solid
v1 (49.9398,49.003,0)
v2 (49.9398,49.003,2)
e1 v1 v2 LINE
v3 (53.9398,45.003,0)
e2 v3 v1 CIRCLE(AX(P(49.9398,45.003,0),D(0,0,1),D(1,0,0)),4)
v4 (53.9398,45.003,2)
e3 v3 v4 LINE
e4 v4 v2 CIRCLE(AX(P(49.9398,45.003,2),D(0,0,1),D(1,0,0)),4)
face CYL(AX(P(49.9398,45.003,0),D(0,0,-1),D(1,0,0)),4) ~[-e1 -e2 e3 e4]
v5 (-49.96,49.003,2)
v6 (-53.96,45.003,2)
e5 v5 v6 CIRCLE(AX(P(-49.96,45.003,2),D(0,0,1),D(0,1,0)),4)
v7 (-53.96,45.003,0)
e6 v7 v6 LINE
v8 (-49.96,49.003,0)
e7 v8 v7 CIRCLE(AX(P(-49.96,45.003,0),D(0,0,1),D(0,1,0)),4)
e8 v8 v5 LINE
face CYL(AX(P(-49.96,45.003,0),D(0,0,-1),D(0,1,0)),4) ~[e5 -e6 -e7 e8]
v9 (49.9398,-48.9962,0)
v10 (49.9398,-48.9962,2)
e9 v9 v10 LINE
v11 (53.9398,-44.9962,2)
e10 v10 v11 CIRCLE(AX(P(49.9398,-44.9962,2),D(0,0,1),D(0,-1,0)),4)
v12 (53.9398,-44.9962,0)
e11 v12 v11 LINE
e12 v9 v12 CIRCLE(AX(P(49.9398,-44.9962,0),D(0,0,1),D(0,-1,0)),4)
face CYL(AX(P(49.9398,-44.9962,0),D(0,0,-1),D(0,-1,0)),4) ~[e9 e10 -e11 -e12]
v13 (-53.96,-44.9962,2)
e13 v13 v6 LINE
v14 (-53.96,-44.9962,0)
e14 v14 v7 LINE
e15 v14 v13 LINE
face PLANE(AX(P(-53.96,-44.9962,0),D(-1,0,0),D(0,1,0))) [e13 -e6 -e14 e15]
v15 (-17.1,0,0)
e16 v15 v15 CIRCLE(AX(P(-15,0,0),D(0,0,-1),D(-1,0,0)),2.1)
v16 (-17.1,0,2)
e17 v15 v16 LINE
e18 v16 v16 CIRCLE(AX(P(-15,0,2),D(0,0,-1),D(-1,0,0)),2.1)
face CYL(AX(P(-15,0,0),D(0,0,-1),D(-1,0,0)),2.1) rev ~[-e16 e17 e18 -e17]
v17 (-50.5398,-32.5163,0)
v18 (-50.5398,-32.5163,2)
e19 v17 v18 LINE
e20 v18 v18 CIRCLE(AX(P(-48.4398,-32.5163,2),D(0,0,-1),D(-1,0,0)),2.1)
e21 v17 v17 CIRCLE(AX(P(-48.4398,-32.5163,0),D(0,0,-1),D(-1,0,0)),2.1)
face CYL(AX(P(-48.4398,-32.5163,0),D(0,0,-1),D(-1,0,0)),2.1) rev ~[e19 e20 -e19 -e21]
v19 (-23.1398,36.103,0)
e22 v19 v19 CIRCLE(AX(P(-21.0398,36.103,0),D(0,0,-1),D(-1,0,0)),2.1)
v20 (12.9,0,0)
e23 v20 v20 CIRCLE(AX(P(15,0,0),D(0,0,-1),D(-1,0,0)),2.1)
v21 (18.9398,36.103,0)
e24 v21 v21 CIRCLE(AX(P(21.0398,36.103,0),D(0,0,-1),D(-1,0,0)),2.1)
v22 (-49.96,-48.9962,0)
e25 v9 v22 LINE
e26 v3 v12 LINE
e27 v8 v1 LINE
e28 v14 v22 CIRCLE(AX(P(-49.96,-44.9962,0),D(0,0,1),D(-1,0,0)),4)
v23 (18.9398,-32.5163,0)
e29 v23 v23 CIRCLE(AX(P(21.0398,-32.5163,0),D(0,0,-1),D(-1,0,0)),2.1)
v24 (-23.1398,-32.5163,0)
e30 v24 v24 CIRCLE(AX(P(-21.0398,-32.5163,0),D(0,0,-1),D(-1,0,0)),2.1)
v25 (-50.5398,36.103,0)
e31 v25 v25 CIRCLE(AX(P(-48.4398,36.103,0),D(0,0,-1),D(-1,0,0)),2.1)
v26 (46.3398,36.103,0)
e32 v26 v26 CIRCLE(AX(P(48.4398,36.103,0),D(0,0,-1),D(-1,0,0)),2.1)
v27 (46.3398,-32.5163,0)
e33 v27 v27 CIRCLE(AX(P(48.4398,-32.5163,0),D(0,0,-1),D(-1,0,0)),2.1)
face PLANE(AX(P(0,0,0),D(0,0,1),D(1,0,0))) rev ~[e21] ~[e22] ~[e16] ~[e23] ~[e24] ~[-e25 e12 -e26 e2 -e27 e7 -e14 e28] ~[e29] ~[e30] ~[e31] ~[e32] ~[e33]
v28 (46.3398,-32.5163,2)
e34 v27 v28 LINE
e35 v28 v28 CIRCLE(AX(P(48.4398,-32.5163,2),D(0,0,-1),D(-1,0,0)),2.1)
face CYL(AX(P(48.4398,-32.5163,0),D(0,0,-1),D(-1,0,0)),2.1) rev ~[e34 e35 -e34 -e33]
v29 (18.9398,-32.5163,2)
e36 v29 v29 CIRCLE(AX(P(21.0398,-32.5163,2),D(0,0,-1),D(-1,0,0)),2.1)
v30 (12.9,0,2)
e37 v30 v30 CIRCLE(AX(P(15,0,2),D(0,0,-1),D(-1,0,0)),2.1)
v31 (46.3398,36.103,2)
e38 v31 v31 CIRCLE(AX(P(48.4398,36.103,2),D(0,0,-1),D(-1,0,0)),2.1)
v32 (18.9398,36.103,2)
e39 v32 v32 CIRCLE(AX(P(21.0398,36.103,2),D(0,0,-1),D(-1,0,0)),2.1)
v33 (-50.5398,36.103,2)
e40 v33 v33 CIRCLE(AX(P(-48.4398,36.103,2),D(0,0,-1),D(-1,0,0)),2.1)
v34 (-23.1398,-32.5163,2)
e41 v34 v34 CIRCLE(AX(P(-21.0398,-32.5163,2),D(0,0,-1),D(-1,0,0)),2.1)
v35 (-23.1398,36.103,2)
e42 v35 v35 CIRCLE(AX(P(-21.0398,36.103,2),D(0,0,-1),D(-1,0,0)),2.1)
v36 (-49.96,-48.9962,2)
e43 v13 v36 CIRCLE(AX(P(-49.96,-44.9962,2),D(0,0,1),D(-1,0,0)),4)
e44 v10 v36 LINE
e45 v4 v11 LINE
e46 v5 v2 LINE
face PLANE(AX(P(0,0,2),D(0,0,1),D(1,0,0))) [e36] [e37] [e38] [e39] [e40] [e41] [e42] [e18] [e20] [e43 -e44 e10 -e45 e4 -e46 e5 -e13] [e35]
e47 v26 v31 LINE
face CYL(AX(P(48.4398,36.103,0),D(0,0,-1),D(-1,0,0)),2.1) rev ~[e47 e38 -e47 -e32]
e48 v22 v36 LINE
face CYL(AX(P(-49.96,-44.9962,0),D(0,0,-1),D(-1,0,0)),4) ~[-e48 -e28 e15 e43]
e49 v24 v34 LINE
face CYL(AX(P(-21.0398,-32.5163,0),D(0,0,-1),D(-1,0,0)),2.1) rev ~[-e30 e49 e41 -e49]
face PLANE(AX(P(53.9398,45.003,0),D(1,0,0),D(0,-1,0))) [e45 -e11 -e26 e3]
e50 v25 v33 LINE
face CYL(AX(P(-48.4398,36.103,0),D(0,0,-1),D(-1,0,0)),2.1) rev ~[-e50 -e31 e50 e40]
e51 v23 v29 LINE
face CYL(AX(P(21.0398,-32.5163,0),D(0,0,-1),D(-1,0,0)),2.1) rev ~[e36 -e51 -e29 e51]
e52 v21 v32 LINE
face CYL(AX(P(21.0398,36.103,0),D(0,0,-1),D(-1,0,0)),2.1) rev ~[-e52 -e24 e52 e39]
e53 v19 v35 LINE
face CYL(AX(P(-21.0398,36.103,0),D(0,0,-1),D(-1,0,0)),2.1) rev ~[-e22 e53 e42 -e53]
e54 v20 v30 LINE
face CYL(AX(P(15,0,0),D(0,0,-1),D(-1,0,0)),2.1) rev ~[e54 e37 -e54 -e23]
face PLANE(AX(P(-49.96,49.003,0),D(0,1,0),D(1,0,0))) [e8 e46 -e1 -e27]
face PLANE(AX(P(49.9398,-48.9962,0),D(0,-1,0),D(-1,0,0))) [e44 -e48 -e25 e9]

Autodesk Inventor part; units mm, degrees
ref_plane "YZ Plane" through (0, 0, 0) normal (1, 0, 0) x (0, 1, 0)
ref_plane "XZ Plane" through (0, 0, 0) normal (0, 1, 0) x (-1, 0, 0)
ref_plane "XY Plane" through (0, 0, 0) normal (0, 0, 1) x (1, 0, 0)
sketch "Sketch1" plane through (0, 0, 0) normal (0, 0, 1) x (1, 0, 0)
  line L0 (0, 69.8302) -> (0, -69.8234) construction
  line L1 (-76.7674, 0) -> (76.7472, 0) construction
  line L2 (-17.1109, 0.0005) -> (-17.1001, 0.2151)
  line L3 (-17.1001, 0.2151) -> (-17.0684, 0.4237)
  line L4 (-17.0684, 0.4237) -> (-17.0166, 0.6249)
  line L5 (-17.0166, 0.6249) -> (-16.9459, 0.8178)
  line L6 (-16.9459, 0.8178) -> (-16.8576, 1.0014)
  line L7 (-16.8576, 1.0014) -> (-16.7523, 1.1745)
  line L8 (-16.7523, 1.1745) -> (-16.6314, 1.3361)
  line L9 (-16.6314, 1.3361) -> (-16.496, 1.4853)
  line L10 (-16.496, 1.4853) -> (-16.3468, 1.6209)
  line L11 (-16.3468, 1.6209) -> (-16.1851, 1.7418)
  line L12 (-16.1851, 1.7418) -> (-16.012, 1.8469)
  line L13 (-16.012, 1.8469) -> (-15.8285, 1.9354)
  line L14 (-15.8285, 1.9354) -> (-15.6354, 2.006)
  line L15 (-15.6354, 2.006) -> (-15.4342, 2.0577)
  line L16 (-15.4342, 2.0577) -> (-15.2258, 2.0896)
  line L17 (-15.2258, 2.0896) -> (-15.011, 2.1004)
  line L18 (-15.011, 2.1004) -> (-14.7964, 2.0896)
  line L19 (-14.7964, 2.0896) -> (-14.5878, 2.0577)
  line L20 (-14.5878, 2.0577) -> (-14.3866, 2.006)
  line L21 (-14.3866, 2.006) -> (-14.1936, 1.9354)
  line L22 (-14.1936, 1.9354) -> (-14.01, 1.8469)
  line L23 (-14.01, 1.8469) -> (-13.8369, 1.7418)
  line L24 (-13.8369, 1.7418) -> (-13.6752, 1.6209)
  line L25 (-13.6752, 1.6209) -> (-13.5262, 1.4853)
  line L26 (-13.5262, 1.4853) -> (-13.3906, 1.3361)
  line L27 (-13.3906, 1.3361) -> (-13.2697, 1.1745)
  line L28 (-13.2697, 1.1745) -> (-13.1644, 1.0014)
  line L29 (-13.1644, 1.0014) -> (-13.0761, 0.8178)
  line L30 (-13.0761, 0.8178) -> (-13.0054, 0.6249)
  line L31 (-13.0054, 0.6249) -> (-12.9537, 0.4237)
  line L32 (-12.9537, 0.4237) -> (-12.9219, 0.2151)
  line L33 (-12.9219, 0.2151) -> (-12.911, 0.0005)
  line L34 (-12.911, 0.0005) -> (-12.9219, -0.2143)
  line L35 (-12.9219, -0.2143) -> (-12.9537, -0.4228)
  line L36 (-12.9537, -0.4228) -> (-13.0054, -0.624)
  line L37 (-13.0054, -0.624) -> (-13.0761, -0.8169)
  line L38 (-13.0761, -0.8169) -> (-13.1644, -1.0005)
  line L39 (-13.1644, -1.0005) -> (-13.2697, -1.1738)
  line L40 (-13.2697, -1.1738) -> (-13.3906, -1.3354)
  line L41 (-13.3906, -1.3354) -> (-13.5262, -1.4846)
  line L42 (-13.5262, -1.4846) -> (-13.6752, -1.6199)
  line L43 (-13.6752, -1.6199) -> (-13.8369, -1.7409)
  line L44 (-13.8369, -1.7409) -> (-14.01, -1.8463)
  line L45 (-14.01, -1.8463) -> (-14.1936, -1.9345)
  line L46 (-14.1936, -1.9345) -> (-14.3866, -2.0051)
  line L47 (-14.3866, -2.0051) -> (-14.5878, -2.0568)
  line L48 (-14.5878, -2.0568) -> (-14.7964, -2.0888)
  line L49 (-14.7964, -2.0888) -> (-15.011, -2.0995)
  line L50 (-15.011, -2.0995) -> (-15.2258, -2.0888)
  line L51 (-15.2258, -2.0888) -> (-15.4342, -2.0568)
  line L52 (-15.4342, -2.0568) -> (-15.6354, -2.0051)
  line L53 (-15.6354, -2.0051) -> (-15.8285, -1.9345)
  line L54 (-15.8285, -1.9345) -> (-16.012, -1.8463)
  line L55 (-16.012, -1.8463) -> (-16.1851, -1.7409)
  line L56 (-16.1851, -1.7409) -> (-16.3468, -1.6199)
  line L57 (-16.3468, -1.6199) -> (-16.496, -1.4846)
  line L58 (-16.496, -1.4846) -> (-16.6314, -1.3354)
  line L59 (-16.6314, -1.3354) -> (-16.7523, -1.1738)
  line L60 (-16.7523, -1.1738) -> (-16.8576, -1.0005)
  line L61 (-16.8576, -1.0005) -> (-16.9459, -0.8169)
  line L62 (-16.9459, -0.8169) -> (-17.0166, -0.624)
  line L63 (-17.0166, -0.624) -> (-17.0684, -0.4228)
  line L64 (-17.0684, -0.4228) -> (-17.1001, -0.2143)
  line L65 (-17.1001, -0.2143) -> (-17.1109, 0.0005)
  spline S0 degree 3 poles (-53.96, -44.9961) (-53.96, -47.2051) (-52.1691, -48.9962) (-49.9599, -48.9962) knots 0 0 0 0 1 1 1 1
  line L66 (-53.96, -44.9961) -> (-53.96, -47.2051) construction
  line L67 (-53.96, -47.2051) -> (-52.1691, -48.9962) construction
  line L68 (-52.1691, -48.9962) -> (-49.9599, -48.9962) construction
  line L69 (-49.9599, -48.9962) -> (49.9401, -48.9962)
  spline S1 degree 3 poles (49.9401, -48.9962) (52.1491, -48.9962) (53.9398, -47.2051) (53.9398, -44.9961) knots 2 2 2 2 3 3 3 3
  line L70 (49.9401, -48.9962) -> (52.1491, -48.9962) construction
  line L71 (52.1491, -48.9962) -> (53.9398, -47.2051) construction
  line L72 (53.9398, -47.2051) -> (53.9398, -44.9961) construction
  line L73 (53.9398, -44.9961) -> (53.9398, 45.0029)
  spline S2 degree 3 poles (53.9398, 45.0029) (53.9398, 47.212) (52.1491, 49.003) (49.9401, 49.003) knots 4 4 4 4 5 5 5 5
  line L74 (53.9398, 45.0029) -> (53.9398, 47.212) construction
  line L75 (53.9398, 47.212) -> (52.1491, 49.003) construction
  line L76 (52.1491, 49.003) -> (49.9401, 49.003) construction
  line L77 (49.9401, 49.003) -> (-49.9599, 49.003)
  spline S3 degree 3 poles (-49.9599, 49.003) (-52.1691, 49.003) (-53.96, 47.212) (-53.96, 45.0029) knots 6 6 6 6 7 7 7 7
  line L78 (-49.9599, 49.003) -> (-52.1691, 49.003) construction
  line L79 (-52.1691, 49.003) -> (-53.96, 47.212) construction
  line L80 (-53.96, 47.212) -> (-53.96, 45.0029) construction
  line L81 (-53.96, 45.0029) -> (-53.96, -44.9961)
  line L82 (39.7398, -16.7966) -> (39.7516, -16.5665)
  line L83 (39.7516, -16.5665) -> (39.7857, -16.3432)
  line L84 (39.7857, -16.3432) -> (39.8411, -16.1276)
  line L85 (39.8411, -16.1276) -> (39.9169, -15.9209)
  line L86 (39.9169, -15.9209) -> (40.0117, -15.7242)
  line L87 (40.0117, -15.7242) -> (40.1243, -15.5385)
  line L88 (40.1243, -15.5385) -> (40.2539, -15.3655)
  line L89 (40.2539, -15.3655) -> (40.3989, -15.2057)
  line L90 (40.3989, -15.2057) -> (40.5587, -15.0603)
  line L91 (40.5587, -15.0603) -> (40.732, -14.9308)
  line L92 (40.732, -14.9308) -> (40.9174, -14.8181)
  line L93 (40.9174, -14.8181) -> (41.1141, -14.7234)
  line L94 (41.1141, -14.7234) -> (41.3208, -14.6479)
  line L95 (41.3208, -14.6479) -> (41.5365, -14.5925)
  line L96 (41.5365, -14.5925) -> (41.7601, -14.5583)
  line L97 (41.7601, -14.5583) -> (41.9898, -14.5466)
  line L98 (41.9898, -14.5466) -> (42.22, -14.5583)
  line L99 (42.22, -14.5583) -> (42.4436, -14.5925)
  line L100 (42.4436, -14.5925) -> (42.6592, -14.6479)
  line L101 (42.6592, -14.6479) -> (42.8659, -14.7234)
  line L102 (42.8659, -14.7234) -> (43.0626, -14.8181)
  line L103 (43.0626, -14.8181) -> (43.248, -14.9308)
  line L104 (43.248, -14.9308) -> (43.4213, -15.0603)
  line L105 (43.4213, -15.0603) -> (43.5811, -15.2057)
  line L106 (43.5811, -15.2057) -> (43.7262, -15.3655)
  line L107 (43.7262, -15.3655) -> (43.8557, -15.5385)
  line L108 (43.8557, -15.5385) -> (43.9684, -15.7242)
  line L109 (43.9684, -15.7242) -> (44.0631, -15.9209)
  line L110 (44.0631, -15.9209) -> (44.1389, -16.1276)
  line L111 (44.1389, -16.1276) -> (44.1944, -16.3432)
  line L112 (44.1944, -16.3432) -> (44.2285, -16.5665)
  line L113 (44.2285, -16.5665) -> (44.2398, -16.7966)
  line L114 (44.2398, -16.7966) -> (44.2285, -17.0268)
  line L115 (44.2285, -17.0268) -> (44.1944, -17.25)
  line L116 (44.1944, -17.25) -> (44.1389, -17.4657)
  line L117 (44.1389, -17.4657) -> (44.0631, -17.6724)
  line L118 (44.0631, -17.6724) -> (43.9684, -17.8691)
  line L119 (43.9684, -17.8691) -> (43.8557, -18.0548)
  line L120 (43.8557, -18.0548) -> (43.7262, -18.2277)
  line L121 (43.7262, -18.2277) -> (43.5811, -18.3876)
  line L122 (43.5811, -18.3876) -> (43.4213, -18.533)
  line L123 (43.4213, -18.533) -> (43.248, -18.6625)
  line L124 (43.248, -18.6625) -> (43.0626, -18.7751)
  line L125 (43.0626, -18.7751) -> (42.8659, -18.8699)
  line L126 (42.8659, -18.8699) -> (42.6592, -18.9453)
  line L127 (42.6592, -18.9453) -> (42.4436, -19.0008)
  line L128 (42.4436, -19.0008) -> (42.22, -19.0349)
  line L129 (42.22, -19.0349) -> (41.9898, -19.0466)
  line L130 (41.9898, -19.0466) -> (41.7601, -19.0349)
  line L131 (41.7601, -19.0349) -> (41.5365, -19.0008)
  line L132 (41.5365, -19.0008) -> (41.3208, -18.9453)
  line L133 (41.3208, -18.9453) -> (41.1141, -18.8699)
  line L134 (41.1141, -18.8699) -> (40.9174, -18.7751)
  line L135 (40.9174, -18.7751) -> (40.732, -18.6625)
  line L136 (40.732, -18.6625) -> (40.5587, -18.533)
  line L137 (40.5587, -18.533) -> (40.3989, -18.3876)
  line L138 (40.3989, -18.3876) -> (40.2539, -18.2277)
  line L139 (40.2539, -18.2277) -> (40.1243, -18.0548)
  line L140 (40.1243, -18.0548) -> (40.0117, -17.8691)
  line L141 (40.0117, -17.8691) -> (39.9169, -17.6724)
  line L142 (39.9169, -17.6724) -> (39.8411, -17.4657)
  line L143 (39.8411, -17.4657) -> (39.7857, -17.25)
  line L144 (39.7857, -17.25) -> (39.7516, -17.0268)
  line L145 (39.7516, -17.0268) -> (39.7398, -16.7966)
  line L146 (-23.21, 36.0918) -> (-23.1986, 36.3168)
  line L147 (-23.1986, 36.3168) -> (-23.1654, 36.5352)
  line L148 (-23.1654, 36.5352) -> (-23.1111, 36.746)
  line L149 (-23.1111, 36.746) -> (-23.0372, 36.9481)
  line L150 (-23.0372, 36.9481) -> (-22.9445, 37.1405)
  line L151 (-22.9445, 37.1405) -> (-22.8343, 37.3219)
  line L152 (-22.8343, 37.3219) -> (-22.7077, 37.4912)
  line L153 (-22.7077, 37.4912) -> (-22.5656, 37.6474)
  line L154 (-22.5656, 37.6474) -> (-22.4093, 37.7894)
  line L155 (-22.4093, 37.7894) -> (-22.24, 37.916)
  line L156 (-22.24, 37.916) -> (-22.0586, 38.0262)
  line L157 (-22.0586, 38.0262) -> (-21.8664, 38.1189)
  line L158 (-21.8664, 38.1189) -> (-21.6642, 38.1928)
  line L159 (-21.6642, 38.1928) -> (-21.4533, 38.247)
  line L160 (-21.4533, 38.247) -> (-21.2349, 38.2805)
  line L161 (-21.2349, 38.2805) -> (-21.0099, 38.2918)
  line L162 (-21.0099, 38.2918) -> (-20.7851, 38.2805)
  line L163 (-20.7851, 38.2805) -> (-20.5665, 38.247)
  line L164 (-20.5665, 38.247) -> (-20.3557, 38.1928)
  line L165 (-20.3557, 38.1928) -> (-20.1537, 38.1189)
  line L166 (-20.1537, 38.1189) -> (-19.9614, 38.0262)
  line L167 (-19.9614, 38.0262) -> (-19.78, 37.916)
  line L168 (-19.78, 37.916) -> (-19.6105, 37.7894)
  line L169 (-19.6105, 37.7894) -> (-19.4543, 37.6474)
  line L170 (-19.4543, 37.6474) -> (-19.3124, 37.4912)
  line L171 (-19.3124, 37.4912) -> (-19.1858, 37.3219)
  line L172 (-19.1858, 37.3219) -> (-19.0755, 37.1405)
  line L173 (-19.0755, 37.1405) -> (-18.9828, 36.9481)
  line L174 (-18.9828, 36.9481) -> (-18.9089, 36.746)
  line L175 (-18.9089, 36.746) -> (-18.8547, 36.5352)
  line L176 (-18.8547, 36.5352) -> (-18.8214, 36.3168)
  line L177 (-18.8214, 36.3168) -> (-18.8101, 36.0918)
  line L178 (-18.8101, 36.0918) -> (-18.8214, 35.8668)
  line L179 (-18.8214, 35.8668) -> (-18.8547, 35.6484)
  line L180 (-18.8547, 35.6484) -> (-18.9089, 35.4376)
  line L181 (-18.9089, 35.4376) -> (-18.9828, 35.2353)
  line L182 (-18.9828, 35.2353) -> (-19.0755, 35.0431)
  line L183 (-19.0755, 35.0431) -> (-19.1858, 34.8617)
  line L184 (-19.1858, 34.8617) -> (-19.3124, 34.6924)
  line L185 (-19.3124, 34.6924) -> (-19.4543, 34.5362)
  line L186 (-19.4543, 34.5362) -> (-19.6105, 34.394)
  line L187 (-19.6105, 34.394) -> (-19.78, 34.2674)
  line L188 (-19.78, 34.2674) -> (-19.9614, 34.1574)
  line L189 (-19.9614, 34.1574) -> (-20.1537, 34.0647)
  line L190 (-20.1537, 34.0647) -> (-20.3557, 33.9906)
  line L191 (-20.3557, 33.9906) -> (-20.5665, 33.9365)
  line L192 (-20.5665, 33.9365) -> (-20.7851, 33.9031)
  line L193 (-20.7851, 33.9031) -> (-21.0099, 33.8918)
  line L194 (-21.0099, 33.8918) -> (-21.2349, 33.9031)
  line L195 (-21.2349, 33.9031) -> (-21.4533, 33.9365)
  line L196 (-21.4533, 33.9365) -> (-21.6642, 33.9906)
  line L197 (-21.6642, 33.9906) -> (-21.8664, 34.0647)
  line L198 (-21.8664, 34.0647) -> (-22.0586, 34.1574)
  line L199 (-22.0586, 34.1574) -> (-22.24, 34.2674)
  line L200 (-22.24, 34.2674) -> (-22.4093, 34.394)
  line L201 (-22.4093, 34.394) -> (-22.5656, 34.5362)
  line L202 (-22.5656, 34.5362) -> (-22.7077, 34.6924)
  line L203 (-22.7077, 34.6924) -> (-22.8343, 34.8617)
  line L204 (-22.8343, 34.8617) -> (-22.9445, 35.0431)
  line L205 (-22.9445, 35.0431) -> (-23.0372, 35.2353)
  line L206 (-23.0372, 35.2353) -> (-23.1111, 35.4376)
  line L207 (-23.1111, 35.4376) -> (-23.1654, 35.6484)
  line L208 (-23.1654, 35.6484) -> (-23.1986, 35.8668)
  line L209 (-23.1986, 35.8668) -> (-23.21, 36.0918)
  line L210 (18.7733, 36.0921) -> (18.7847, 36.3171)
  line L211 (18.7847, 36.3171) -> (18.8181, 36.5355)
  line L212 (18.8181, 36.5355) -> (18.8722, 36.7464)
  line L213 (18.8722, 36.7464) -> (18.9463, 36.9484)
  line L214 (18.9463, 36.9484) -> (19.039, 37.1407)
  line L215 (19.039, 37.1407) -> (19.1492, 37.322)
  line L216 (19.1492, 37.322) -> (19.2756, 37.4915)
  line L217 (19.2756, 37.4915) -> (19.4179, 37.6478)
  line L218 (19.4179, 37.6478) -> (19.574, 37.7897)
  line L219 (19.574, 37.7897) -> (19.7435, 37.9163)
  line L220 (19.7435, 37.9163) -> (19.9247, 38.0266)
  line L221 (19.9247, 38.0266) -> (20.1169, 38.1192)
  line L222 (20.1169, 38.1192) -> (20.3192, 38.1931)
  line L223 (20.3192, 38.1931) -> (20.53, 38.2474)
  line L224 (20.53, 38.2474) -> (20.7484, 38.2808)
  line L225 (20.7484, 38.2808) -> (20.9734, 38.292)
  line L226 (20.9734, 38.292) -> (21.1983, 38.2808)
  line L227 (21.1983, 38.2808) -> (21.4168, 38.2474)
  line L228 (21.4168, 38.2474) -> (21.6276, 38.1931)
  line L229 (21.6276, 38.1931) -> (21.8298, 38.1192)
  line L230 (21.8298, 38.1192) -> (22.0221, 38.0266)
  line L231 (22.0221, 38.0266) -> (22.2036, 37.9163)
  line L232 (22.2036, 37.9163) -> (22.3728, 37.7897)
  line L233 (22.3728, 37.7897) -> (22.5292, 37.6478)
  line L234 (22.5292, 37.6478) -> (22.6711, 37.4915)
  line L235 (22.6711, 37.4915) -> (22.7976, 37.322)
  line L236 (22.7976, 37.322) -> (22.9078, 37.1407)
  line L237 (22.9078, 37.1407) -> (23.0005, 36.9484)
  line L238 (23.0005, 36.9484) -> (23.0745, 36.7464)
  line L239 (23.0745, 36.7464) -> (23.1286, 36.5355)
  line L240 (23.1286, 36.5355) -> (23.162, 36.3171)
  line L241 (23.162, 36.3171) -> (23.1734, 36.0921)
  line L242 (23.1734, 36.0921) -> (23.162, 35.8672)
  line L243 (23.162, 35.8672) -> (23.1286, 35.6488)
  line L244 (23.1286, 35.6488) -> (23.0745, 35.4379)
  line L245 (23.0745, 35.4379) -> (23.0005, 35.2357)
  line L246 (23.0005, 35.2357) -> (22.9078, 35.0435)
  line L247 (22.9078, 35.0435) -> (22.7976, 34.8621)
  line L248 (22.7976, 34.8621) -> (22.6711, 34.6927)
  line L249 (22.6711, 34.6927) -> (22.5292, 34.5365)
  line L250 (22.5292, 34.5365) -> (22.3728, 34.3944)
  line L251 (22.3728, 34.3944) -> (22.2036, 34.2678)
  line L252 (22.2036, 34.2678) -> (22.0221, 34.1575)
  line L253 (22.0221, 34.1575) -> (21.8298, 34.065)
  line L254 (21.8298, 34.065) -> (21.6276, 33.991)
  line L255 (21.6276, 33.991) -> (21.4168, 33.9367)
  line L256 (21.4168, 33.9367) -> (21.1983, 33.9035)
  line L257 (21.1983, 33.9035) -> (20.9734, 33.8921)
  line L258 (20.9734, 33.8921) -> (20.7484, 33.9035)
  line L259 (20.7484, 33.9035) -> (20.53, 33.9367)
  line L260 (20.53, 33.9367) -> (20.3192, 33.991)
  line L261 (20.3192, 33.991) -> (20.1169, 34.065)
  line L262 (20.1169, 34.065) -> (19.9247, 34.1575)
  line L263 (19.9247, 34.1575) -> (19.7435, 34.2678)
  line L264 (19.7435, 34.2678) -> (19.574, 34.3944)
  line L265 (19.574, 34.3944) -> (19.4179, 34.5365)
  line L266 (19.4179, 34.5365) -> (19.2756, 34.6927)
  line L267 (19.2756, 34.6927) -> (19.1492, 34.8621)
  line L268 (19.1492, 34.8621) -> (19.039, 35.0435)
  line L269 (19.039, 35.0435) -> (18.9463, 35.2357)
  line L270 (18.9463, 35.2357) -> (18.8722, 35.4379)
  line L271 (18.8722, 35.4379) -> (18.8181, 35.6488)
  line L272 (18.8181, 35.6488) -> (18.7847, 35.8672)
  line L273 (18.7847, 35.8672) -> (18.7733, 36.0921)
  line L274 (46.1946, 36.0921) -> (46.2059, 36.3171)
  line L275 (46.2059, 36.3171) -> (46.239, 36.5355)
  line L276 (46.239, 36.5355) -> (46.2935, 36.7464)
  line L277 (46.2935, 36.7464) -> (46.3672, 36.9484)
  line L278 (46.3672, 36.9484) -> (46.4599, 37.1407)
  line L279 (46.4599, 37.1407) -> (46.5701, 37.322)
  line L280 (46.5701, 37.322) -> (46.6969, 37.4915)
  line L281 (46.6969, 37.4915) -> (46.8388, 37.6478)
  line L282 (46.8388, 37.6478) -> (46.9949, 37.7897)
  line L283 (46.9949, 37.7897) -> (47.1644, 37.9163)
  line L284 (47.1644, 37.9163) -> (47.3459, 38.0266)
  line L285 (47.3459, 38.0266) -> (47.5382, 38.1192)
  line L286 (47.5382, 38.1192) -> (47.74, 38.1931)
  line L287 (47.74, 38.1931) -> (47.9509, 38.2474)
  line L288 (47.9509, 38.2474) -> (48.1697, 38.2808)
  line L289 (48.1697, 38.2808) -> (48.3943, 38.292)
  line L290 (48.3943, 38.292) -> (48.6192, 38.2808)
  line L291 (48.6192, 38.2808) -> (48.8377, 38.2474)
  line L292 (48.8377, 38.2474) -> (49.0485, 38.1931)
  line L293 (49.0485, 38.1931) -> (49.2507, 38.1192)
  line L294 (49.2507, 38.1192) -> (49.443, 38.0266)
  line L295 (49.443, 38.0266) -> (49.6245, 37.9163)
  line L296 (49.6245, 37.9163) -> (49.7937, 37.7897)
  line L297 (49.7937, 37.7897) -> (49.9501, 37.6478)
  line L298 (49.9501, 37.6478) -> (50.092, 37.4915)
  line L299 (50.092, 37.4915) -> (50.2188, 37.322)
  line L300 (50.2188, 37.322) -> (50.329, 37.1407)
  line L301 (50.329, 37.1407) -> (50.4214, 36.9484)
  line L302 (50.4214, 36.9484) -> (50.4954, 36.7464)
  line L303 (50.4954, 36.7464) -> (50.5499, 36.5355)
  line L304 (50.5499, 36.5355) -> (50.5829, 36.3171)
  line L305 (50.5829, 36.3171) -> (50.5943, 36.0921)
  line L306 (50.5943, 36.0921) -> (50.5829, 35.8672)
  line L307 (50.5829, 35.8672) -> (50.5499, 35.6488)
  line L308 (50.5499, 35.6488) -> (50.4954, 35.4379)
  line L309 (50.4954, 35.4379) -> (50.4214, 35.2357)
  line L310 (50.4214, 35.2357) -> (50.329, 35.0435)
  line L311 (50.329, 35.0435) -> (50.2188, 34.8621)
  line L312 (50.2188, 34.8621) -> (50.092, 34.6927)
  line L313 (50.092, 34.6927) -> (49.9501, 34.5365)
  line L314 (49.9501, 34.5365) -> (49.7937, 34.3944)
  line L315 (49.7937, 34.3944) -> (49.6245, 34.2678)
  line L316 (49.6245, 34.2678) -> (49.443, 34.1575)
  line L317 (49.443, 34.1575) -> (49.2507, 34.065)
  line L318 (49.2507, 34.065) -> (49.0485, 33.991)
  line L319 (49.0485, 33.991) -> (48.8377, 33.9367)
  line L320 (48.8377, 33.9367) -> (48.6192, 33.9035)
  line L321 (48.6192, 33.9035) -> (48.3943, 33.8921)
  line L322 (48.3943, 33.8921) -> (48.1697, 33.9035)
  line L323 (48.1697, 33.9035) -> (47.9509, 33.9367)
  line L324 (47.9509, 33.9367) -> (47.74, 33.991)
  line L325 (47.74, 33.991) -> (47.5382, 34.065)
  line L326 (47.5382, 34.065) -> (47.3459, 34.1575)
  line L327 (47.3459, 34.1575) -> (47.1644, 34.2678)
  line L328 (47.1644, 34.2678) -> (46.9949, 34.3944)
  line L329 (46.9949, 34.3944) -> (46.8388, 34.5365)
  line L330 (46.8388, 34.5365) -> (46.6969, 34.6927)
  line L331 (46.6969, 34.6927) -> (46.5701, 34.8621)
  line L332 (46.5701, 34.8621) -> (46.4599, 35.0435)
  line L333 (46.4599, 35.0435) -> (46.3672, 35.2357)
  line L334 (46.3672, 35.2357) -> (46.2935, 35.4379)
  line L335 (46.2935, 35.4379) -> (46.239, 35.6488)
  line L336 (46.239, 35.6488) -> (46.2059, 35.8672)
  line L337 (46.2059, 35.8672) -> (46.1946, 36.0921)
  line L338 (12.8902, 0.0005) -> (12.9008, 0.2151)
  line L339 (12.9008, 0.2151) -> (12.9325, 0.4237)
  line L340 (12.9325, 0.4237) -> (12.9845, 0.6249)
  line L341 (12.9845, 0.6249) -> (13.0552, 0.8178)
  line L342 (13.0552, 0.8178) -> (13.1434, 1.0014)
  line L343 (13.1434, 1.0014) -> (13.2488, 1.1745)
  line L344 (13.2488, 1.1745) -> (13.3694, 1.3361)
  line L345 (13.3694, 1.3361) -> (13.5051, 1.4853)
  line L346 (13.5051, 1.4853) -> (13.6543, 1.6209)
  line L347 (13.6543, 1.6209) -> (13.8158, 1.7418)
  line L348 (13.8158, 1.7418) -> (13.9891, 1.8469)
  line L349 (13.9891, 1.8469) -> (14.1724, 1.9354)
  line L350 (14.1724, 1.9354) -> (14.3657, 2.006)
  line L351 (14.3657, 2.006) -> (14.5669, 2.0577)
  line L352 (14.5669, 2.0577) -> (14.7753, 2.0896)
  line L353 (14.7753, 2.0896) -> (14.9899, 2.1004)
  line L354 (14.9899, 2.1004) -> (15.2046, 2.0896)
  line L355 (15.2046, 2.0896) -> (15.4133, 2.0577)
  line L356 (15.4133, 2.0577) -> (15.6145, 2.006)
  line L357 (15.6145, 2.006) -> (15.8075, 1.9354)
  line L358 (15.8075, 1.9354) -> (15.9911, 1.8469)
  line L359 (15.9911, 1.8469) -> (16.164, 1.7418)
  line L360 (16.164, 1.7418) -> (16.3259, 1.6209)
  line L361 (16.3259, 1.6209) -> (16.4748, 1.4853)
  line L362 (16.4748, 1.4853) -> (16.6105, 1.3361)
  line L363 (16.6105, 1.3361) -> (16.7314, 1.1745)
  line L364 (16.7314, 1.1745) -> (16.8365, 1.0014)
  line L365 (16.8365, 1.0014) -> (16.925, 0.8178)
  line L366 (16.925, 0.8178) -> (16.9957, 0.6249)
  line L367 (16.9957, 0.6249) -> (17.0473, 0.4237)
  line L368 (17.0473, 0.4237) -> (17.079, 0.2151)
  line L369 (17.079, 0.2151) -> (17.0901, 0.0005)
  line L370 (17.0901, 0.0005) -> (17.079, -0.2143)
  line L371 (17.079, -0.2143) -> (17.0473, -0.4228)
  line L372 (17.0473, -0.4228) -> (16.9957, -0.624)
  line L373 (16.9957, -0.624) -> (16.925, -0.8169)
  line L374 (16.925, -0.8169) -> (16.8365, -1.0005)
  line L375 (16.8365, -1.0005) -> (16.7314, -1.1738)
  line L376 (16.7314, -1.1738) -> (16.6105, -1.3354)
  line L377 (16.6105, -1.3354) -> (16.4748, -1.4846)
  line L378 (16.4748, -1.4846) -> (16.3259, -1.6199)
  line L379 (16.3259, -1.6199) -> (16.164, -1.7409)
  line L380 (16.164, -1.7409) -> (15.9911, -1.8463)
  line L381 (15.9911, -1.8463) -> (15.8075, -1.9345)
  line L382 (15.8075, -1.9345) -> (15.6145, -2.0051)
  line L383 (15.6145, -2.0051) -> (15.4133, -2.0568)
  line L384 (15.4133, -2.0568) -> (15.2046, -2.0888)
  line L385 (15.2046, -2.0888) -> (14.9899, -2.0995)
  line L386 (14.9899, -2.0995) -> (14.7753, -2.0888)
  line L387 (14.7753, -2.0888) -> (14.5669, -2.0568)
  line L388 (14.5669, -2.0568) -> (14.3657, -2.0051)
  line L389 (14.3657, -2.0051) -> (14.1724, -1.9345)
  line L390 (14.1724, -1.9345) -> (13.9891, -1.8463)
  line L391 (13.9891, -1.8463) -> (13.8158, -1.7409)
  line L392 (13.8158, -1.7409) -> (13.6543, -1.6199)
  line L393 (13.6543, -1.6199) -> (13.5051, -1.4846)
  line L394 (13.5051, -1.4846) -> (13.3694, -1.3354)
  line L395 (13.3694, -1.3354) -> (13.2488, -1.1738)
  line L396 (13.2488, -1.1738) -> (13.1434, -1.0005)
  line L397 (13.1434, -1.0005) -> (13.0552, -0.8169)
  line L398 (13.0552, -0.8169) -> (12.9845, -0.624)
  line L399 (12.9845, -0.624) -> (12.9325, -0.4228)
  line L400 (12.9325, -0.4228) -> (12.9008, -0.2143)
  line L401 (12.9008, -0.2143) -> (12.8902, 0.0005)
  line L402 (46.1946, -32.6403) -> (46.2059, -32.4153)
  line L403 (46.2059, -32.4153) -> (46.239, -32.1969)
  line L404 (46.239, -32.1969) -> (46.2935, -31.986)
  line L405 (46.2935, -31.986) -> (46.3672, -31.7838)
  line L406 (46.3672, -31.7838) -> (46.4599, -31.5916)
  line L407 (46.4599, -31.5916) -> (46.5701, -31.41)
  line L408 (46.5701, -31.41) -> (46.6969, -31.2409)
  line L409 (46.6969, -31.2409) -> (46.8388, -31.0845)
  line L410 (46.8388, -31.0845) -> (46.9949, -30.9425)
  line L411 (46.9949, -30.9425) -> (47.1644, -30.8161)
  line L412 (47.1644, -30.8161) -> (47.3459, -30.7059)
  line L413 (47.3459, -30.7059) -> (47.5382, -30.6132)
  line L414 (47.5382, -30.6132) -> (47.74, -30.5391)
  line L415 (47.74, -30.5391) -> (47.9509, -30.485)
  line L416 (47.9509, -30.485) -> (48.1697, -30.4516)
  line L417 (48.1697, -30.4516) -> (48.3943, -30.4402)
  line L418 (48.3943, -30.4402) -> (48.6192, -30.4516)
  line L419 (48.6192, -30.4516) -> (48.8377, -30.485)
  line L420 (48.8377, -30.485) -> (49.0485, -30.5391)
  line L421 (49.0485, -30.5391) -> (49.2507, -30.6132)
  line L422 (49.2507, -30.6132) -> (49.443, -30.7059)
  line L423 (49.443, -30.7059) -> (49.6245, -30.8161)
  line L424 (49.6245, -30.8161) -> (49.7937, -30.9425)
  line L425 (49.7937, -30.9425) -> (49.9501, -31.0845)
  line L426 (49.9501, -31.0845) -> (50.092, -31.2409)
  line L427 (50.092, -31.2409) -> (50.2188, -31.41)
  line L428 (50.2188, -31.41) -> (50.329, -31.5916)
  line L429 (50.329, -31.5916) -> (50.4214, -31.7838)
  line L430 (50.4214, -31.7838) -> (50.4954, -31.986)
  line L431 (50.4954, -31.986) -> (50.5499, -32.1969)
  line L432 (50.5499, -32.1969) -> (50.5829, -32.4153)
  line L433 (50.5829, -32.4153) -> (50.5943, -32.6403)
  line L434 (50.5943, -32.6403) -> (50.5829, -32.8652)
  line L435 (50.5829, -32.8652) -> (50.5499, -33.0837)
  line L436 (50.5499, -33.0837) -> (50.4954, -33.2945)
  line L437 (50.4954, -33.2945) -> (50.4214, -33.4967)
  line L438 (50.4214, -33.4967) -> (50.329, -33.689)
  line L439 (50.329, -33.689) -> (50.2188, -33.8702)
  line L440 (50.2188, -33.8702) -> (50.092, -34.0397)
  line L441 (50.092, -34.0397) -> (49.9501, -34.1957)
  line L442 (49.9501, -34.1957) -> (49.7937, -34.338)
  line L443 (49.7937, -34.338) -> (49.6245, -34.4645)
  line L444 (49.6245, -34.4645) -> (49.443, -34.5747)
  line L445 (49.443, -34.5747) -> (49.2507, -34.6674)
  line L446 (49.2507, -34.6674) -> (49.0485, -34.7414)
  line L447 (49.0485, -34.7414) -> (48.8377, -34.7955)
  line L448 (48.8377, -34.7955) -> (48.6192, -34.8289)
  line L449 (48.6192, -34.8289) -> (48.3943, -34.8403)
  line L450 (48.3943, -34.8403) -> (48.1697, -34.8289)
  line L451 (48.1697, -34.8289) -> (47.9509, -34.7955)
  line L452 (47.9509, -34.7955) -> (47.74, -34.7414)
  line L453 (47.74, -34.7414) -> (47.5382, -34.6674)
  line L454 (47.5382, -34.6674) -> (47.3459, -34.5747)
  line L455 (47.3459, -34.5747) -> (47.1644, -34.4645)
  line L456 (47.1644, -34.4645) -> (46.9949, -34.338)
  line L457 (46.9949, -34.338) -> (46.8388, -34.1957)
  line L458 (46.8388, -34.1957) -> (46.6969, -34.0397)
  line L459 (46.6969, -34.0397) -> (46.5701, -33.8702)
  line L460 (46.5701, -33.8702) -> (46.4599, -33.689)
  line L461 (46.4599, -33.689) -> (46.3672, -33.4967)
  line L462 (46.3672, -33.4967) -> (46.2935, -33.2945)
  line L463 (46.2935, -33.2945) -> (46.239, -33.0837)
  line L464 (46.239, -33.0837) -> (46.2059, -32.8652)
  line L465 (46.2059, -32.8652) -> (46.1946, -32.6403)
  line L466 (18.7733, -32.6406) -> (18.7847, -32.4157)
  line L467 (18.7847, -32.4157) -> (18.8181, -32.1972)
  line L468 (18.8181, -32.1972) -> (18.8722, -31.9864)
  line L469 (18.8722, -31.9864) -> (18.9463, -31.7842)
  line L470 (18.9463, -31.7842) -> (19.039, -31.5919)
  line L471 (19.039, -31.5919) -> (19.1492, -31.4104)
  line L472 (19.1492, -31.4104) -> (19.2756, -31.2412)
  line L473 (19.2756, -31.2412) -> (19.4179, -31.0848)
  line L474 (19.4179, -31.0848) -> (19.574, -30.9429)
  line L475 (19.574, -30.9429) -> (19.7435, -30.8161)
  line L476 (19.7435, -30.8161) -> (19.9247, -30.7062)
  line L477 (19.9247, -30.7062) -> (20.1169, -30.6135)
  line L478 (20.1169, -30.6135) -> (20.3192, -30.5395)
  line L479 (20.3192, -30.5395) -> (20.53, -30.4854)
  line L480 (20.53, -30.4854) -> (20.7484, -30.4519)
  line L481 (20.7484, -30.4519) -> (20.9734, -30.4406)
  line L482 (20.9734, -30.4406) -> (21.1983, -30.4519)
  line L483 (21.1983, -30.4519) -> (21.4168, -30.4854)
  line L484 (21.4168, -30.4854) -> (21.6276, -30.5395)
  line L485 (21.6276, -30.5395) -> (21.8298, -30.6135)
  line L486 (21.8298, -30.6135) -> (22.0221, -30.7062)
  line L487 (22.0221, -30.7062) -> (22.2036, -30.8161)
  line L488 (22.2036, -30.8161) -> (22.3728, -30.9429)
  line L489 (22.3728, -30.9429) -> (22.5292, -31.0848)
  line L490 (22.5292, -31.0848) -> (22.6711, -31.2412)
  line L491 (22.6711, -31.2412) -> (22.7976, -31.4104)
  line L492 (22.7976, -31.4104) -> (22.9078, -31.5919)
  line L493 (22.9078, -31.5919) -> (23.0005, -31.7842)
  line L494 (23.0005, -31.7842) -> (23.0745, -31.9864)
  line L495 (23.0745, -31.9864) -> (23.1286, -32.1972)
  line L496 (23.1286, -32.1972) -> (23.162, -32.4157)
  line L497 (23.162, -32.4157) -> (23.1734, -32.6406)
  line L498 (23.1734, -32.6406) -> (23.162, -32.8656)
  line L499 (23.162, -32.8656) -> (23.1286, -33.084)
  line L500 (23.1286, -33.084) -> (23.0745, -33.2948)
  line L501 (23.0745, -33.2948) -> (23.0005, -33.4967)
  line L502 (23.0005, -33.4967) -> (22.9078, -33.6893)
  line L503 (22.9078, -33.6893) -> (22.7976, -33.8705)
  line L504 (22.7976, -33.8705) -> (22.6711, -34.04)
  line L505 (22.6711, -34.04) -> (22.5292, -34.1961)
  line L506 (22.5292, -34.1961) -> (22.3728, -34.338)
  line L507 (22.3728, -34.338) -> (22.2036, -34.4648)
  line L508 (22.2036, -34.4648) -> (22.0221, -34.575)
  line L509 (22.0221, -34.575) -> (21.8298, -34.6677)
  line L510 (21.8298, -34.6677) -> (21.6276, -34.7418)
  line L511 (21.6276, -34.7418) -> (21.4168, -34.7959)
  line L512 (21.4168, -34.7959) -> (21.1983, -34.8293)
  line L513 (21.1983, -34.8293) -> (20.9734, -34.8407)
  line L514 (20.9734, -34.8407) -> (20.7484, -34.8293)
  line L515 (20.7484, -34.8293) -> (20.53, -34.7959)
  line L516 (20.53, -34.7959) -> (20.3192, -34.7418)
  line L517 (20.3192, -34.7418) -> (20.1169, -34.6677)
  line L518 (20.1169, -34.6677) -> (19.9247, -34.575)
  line L519 (19.9247, -34.575) -> (19.7435, -34.4648)
  line L520 (19.7435, -34.4648) -> (19.574, -34.338)
  line L521 (19.574, -34.338) -> (19.4179, -34.1961)
  line L522 (19.4179, -34.1961) -> (19.2756, -34.04)
  line L523 (19.2756, -34.04) -> (19.1492, -33.8705)
  line L524 (19.1492, -33.8705) -> (19.039, -33.6893)
  line L525 (19.039, -33.6893) -> (18.9463, -33.4967)
  line L526 (18.9463, -33.4967) -> (18.8722, -33.2948)
  line L527 (18.8722, -33.2948) -> (18.8181, -33.084)
  line L528 (18.8181, -33.084) -> (18.7847, -32.8656)
  line L529 (18.7847, -32.8656) -> (18.7733, -32.6406)
  line L530 (-23.21, -32.641) -> (-23.1986, -32.416)
  line L531 (-23.1986, -32.416) -> (-23.1654, -32.1976)
  line L532 (-23.1654, -32.1976) -> (-23.1111, -31.9867)
  line L533 (-23.1111, -31.9867) -> (-23.0372, -31.7845)
  line L534 (-23.0372, -31.7845) -> (-22.9445, -31.5923)
  line L535 (-22.9445, -31.5923) -> (-22.8343, -31.4111)
  line L536 (-22.8343, -31.4111) -> (-22.7077, -31.2416)
  line L537 (-22.7077, -31.2416) -> (-22.5656, -31.0855)
  line L538 (-22.5656, -31.0855) -> (-22.4093, -30.9432)
  line L539 (-22.4093, -30.9432) -> (-22.24, -30.8168)
  line L540 (-22.24, -30.8168) -> (-22.0586, -30.7065)
  line L541 (-22.0586, -30.7065) -> (-21.8664, -30.6139)
  line L542 (-21.8664, -30.6139) -> (-21.6642, -30.5398)
  line L543 (-21.6642, -30.5398) -> (-21.4533, -30.4857)
  line L544 (-21.4533, -30.4857) -> (-21.2349, -30.4523)
  line L545 (-21.2349, -30.4523) -> (-21.0099, -30.4409)
  line L546 (-21.0099, -30.4409) -> (-20.7851, -30.4523)
  line L547 (-20.7851, -30.4523) -> (-20.5665, -30.4857)
  line L548 (-20.5665, -30.4857) -> (-20.3557, -30.5398)
  line L549 (-20.3557, -30.5398) -> (-20.1537, -30.6139)
  line L550 (-20.1537, -30.6139) -> (-19.9614, -30.7065)
  line L551 (-19.9614, -30.7065) -> (-19.78, -30.8168)
  line L552 (-19.78, -30.8168) -> (-19.6105, -30.9432)
  line L553 (-19.6105, -30.9432) -> (-19.4543, -31.0855)
  line L554 (-19.4543, -31.0855) -> (-19.3124, -31.2416)
  line L555 (-19.3124, -31.2416) -> (-19.1858, -31.4111)
  line L556 (-19.1858, -31.4111) -> (-19.0755, -31.5923)
  line L557 (-19.0755, -31.5923) -> (-18.9828, -31.7845)
  line L558 (-18.9828, -31.7845) -> (-18.9089, -31.9867)
  line L559 (-18.9089, -31.9867) -> (-18.8547, -32.1976)
  line L560 (-18.8547, -32.1976) -> (-18.8214, -32.416)
  line L561 (-18.8214, -32.416) -> (-18.8101, -32.641)
  line L562 (-18.8101, -32.641) -> (-18.8214, -32.8659)
  line L563 (-18.8214, -32.8659) -> (-18.8547, -33.0843)
  line L564 (-18.8547, -33.0843) -> (-18.9089, -33.2952)
  line L565 (-18.9089, -33.2952) -> (-18.9828, -33.4974)
  line L566 (-18.9828, -33.4974) -> (-19.0755, -33.6896)
  line L567 (-19.0755, -33.6896) -> (-19.1858, -33.8709)
  line L568 (-19.1858, -33.8709) -> (-19.3124, -34.0404)
  line L569 (-19.3124, -34.0404) -> (-19.4543, -34.1968)
  line L570 (-19.4543, -34.1968) -> (-19.6105, -34.3387)
  line L571 (-19.6105, -34.3387) -> (-19.78, -34.4651)
  line L572 (-19.78, -34.4651) -> (-19.9614, -34.5754)
  line L573 (-19.9614, -34.5754) -> (-20.1537, -34.6681)
  line L574 (-20.1537, -34.6681) -> (-20.3557, -34.7421)
  line L575 (-20.3557, -34.7421) -> (-20.5665, -34.7962)
  line L576 (-20.5665, -34.7962) -> (-20.7851, -34.8296)
  line L577 (-20.7851, -34.8296) -> (-21.0099, -34.841)
  line L578 (-21.0099, -34.841) -> (-21.2349, -34.8296)
  line L579 (-21.2349, -34.8296) -> (-21.4533, -34.7962)
  line L580 (-21.4533, -34.7962) -> (-21.6642, -34.7421)
  line L581 (-21.6642, -34.7421) -> (-21.8664, -34.6681)
  line L582 (-21.8664, -34.6681) -> (-22.0586, -34.5754)
  line L583 (-22.0586, -34.5754) -> (-22.24, -34.4651)
  line L584 (-22.24, -34.4651) -> (-22.4093, -34.3387)
  line L585 (-22.4093, -34.3387) -> (-22.5656, -34.1968)
  line L586 (-22.5656, -34.1968) -> (-22.7077, -34.0404)
  line L587 (-22.7077, -34.0404) -> (-22.8343, -33.8709)
  line L588 (-22.8343, -33.8709) -> (-22.9445, -33.6896)
  line L589 (-22.9445, -33.6896) -> (-23.0372, -33.4974)
  line L590 (-23.0372, -33.4974) -> (-23.1111, -33.2952)
  line L591 (-23.1111, -33.2952) -> (-23.1654, -33.0843)
  line L592 (-23.1654, -33.0843) -> (-23.1986, -32.8659)
  line L593 (-23.1986, -32.8659) -> (-23.21, -32.641)
  line L594 (-50.631, -32.641) -> (-50.6197, -32.416)
  line L595 (-50.6197, -32.416) -> (-50.5862, -32.1976)
  line L596 (-50.5862, -32.1976) -> (-50.5322, -31.9867)
  line L597 (-50.5322, -31.9867) -> (-50.4581, -31.7845)
  line L598 (-50.4581, -31.7845) -> (-50.3654, -31.5923)
  line L599 (-50.3654, -31.5923) -> (-50.2553, -31.4111)
  line L600 (-50.2553, -31.4111) -> (-50.1286, -31.2416)
  line L601 (-50.1286, -31.2416) -> (-49.9866, -31.0855)
  line L602 (-49.9866, -31.0855) -> (-49.8304, -30.9432)
  line L603 (-49.8304, -30.9432) -> (-49.6611, -30.8168)
  line L604 (-49.6611, -30.8168) -> (-49.4797, -30.7065)
  line L605 (-49.4797, -30.7065) -> (-49.2873, -30.6139)
  line L606 (-49.2873, -30.6139) -> (-49.0852, -30.5398)
  line L607 (-49.0852, -30.5398) -> (-48.8744, -30.4857)
  line L608 (-48.8744, -30.4857) -> (-48.656, -30.4523)
  line L609 (-48.656, -30.4523) -> (-48.431, -30.4409)
  line L610 (-48.431, -30.4409) -> (-48.206, -30.4523)
  line L611 (-48.206, -30.4523) -> (-47.9876, -30.4857)
  line L612 (-47.9876, -30.4857) -> (-47.7768, -30.5398)
  line L613 (-47.7768, -30.5398) -> (-47.5747, -30.6139)
  line L614 (-47.5747, -30.6139) -> (-47.3823, -30.7065)
  line L615 (-47.3823, -30.7065) -> (-47.2009, -30.8168)
  line L616 (-47.2009, -30.8168) -> (-47.0316, -30.9432)
  line L617 (-47.0316, -30.9432) -> (-46.8754, -31.0855)
  line L618 (-46.8754, -31.0855) -> (-46.7334, -31.2416)
  line L619 (-46.7334, -31.2416) -> (-46.6066, -31.4111)
  line L620 (-46.6066, -31.4111) -> (-46.4966, -31.5923)
  line L621 (-46.4966, -31.5923) -> (-46.4039, -31.7845)
  line L622 (-46.4039, -31.7845) -> (-46.3298, -31.9867)
  line L623 (-46.3298, -31.9867) -> (-46.2757, -32.1976)
  line L624 (-46.2757, -32.1976) -> (-46.2423, -32.416)
  line L625 (-46.2423, -32.416) -> (-46.231, -32.641)
  line L626 (-46.231, -32.641) -> (-46.2423, -32.8659)
  line L627 (-46.2423, -32.8659) -> (-46.2757, -33.0843)
  line L628 (-46.2757, -33.0843) -> (-46.3298, -33.2952)
  line L629 (-46.3298, -33.2952) -> (-46.4039, -33.4974)
  line L630 (-46.4039, -33.4974) -> (-46.4966, -33.6896)
  line L631 (-46.4966, -33.6896) -> (-46.6066, -33.8709)
  line L632 (-46.6066, -33.8709) -> (-46.7334, -34.0404)
  line L633 (-46.7334, -34.0404) -> (-46.8754, -34.1968)
  line L634 (-46.8754, -34.1968) -> (-47.0316, -34.3387)
  line L635 (-47.0316, -34.3387) -> (-47.2009, -34.4651)
  line L636 (-47.2009, -34.4651) -> (-47.3823, -34.5754)
  line L637 (-47.3823, -34.5754) -> (-47.5747, -34.6681)
  line L638 (-47.5747, -34.6681) -> (-47.7768, -34.7421)
  line L639 (-47.7768, -34.7421) -> (-47.9876, -34.7962)
  line L640 (-47.9876, -34.7962) -> (-48.206, -34.8296)
  line L641 (-48.206, -34.8296) -> (-48.431, -34.841)
  line L642 (-48.431, -34.841) -> (-48.656, -34.8296)
  line L643 (-48.656, -34.8296) -> (-48.8744, -34.7962)
  line L644 (-48.8744, -34.7962) -> (-49.0852, -34.7421)
  line L645 (-49.0852, -34.7421) -> (-49.2873, -34.6681)
  line L646 (-49.2873, -34.6681) -> (-49.4797, -34.5754)
  line L647 (-49.4797, -34.5754) -> (-49.6611, -34.4651)
  line L648 (-49.6611, -34.4651) -> (-49.8304, -34.3387)
  line L649 (-49.8304, -34.3387) -> (-49.9866, -34.1968)
  line L650 (-49.9866, -34.1968) -> (-50.1286, -34.0404)
  line L651 (-50.1286, -34.0404) -> (-50.2553, -33.8709)
  line L652 (-50.2553, -33.8709) -> (-50.3654, -33.6896)
  line L653 (-50.3654, -33.6896) -> (-50.4581, -33.4974)
  line L654 (-50.4581, -33.4974) -> (-50.5322, -33.2952)
  line L655 (-50.5322, -33.2952) -> (-50.5862, -33.0843)
  line L656 (-50.5862, -33.0843) -> (-50.6197, -32.8659)
  line L657 (-50.6197, -32.8659) -> (-50.631, -32.641)
  line L658 (-50.631, 36.0918) -> (-50.6197, 35.8668)
  line L659 (-50.6197, 35.8668) -> (-50.5862, 35.6484)
  line L660 (-50.5862, 35.6484) -> (-50.5322, 35.4376)
  line L661 (-50.5322, 35.4376) -> (-50.4581, 35.2353)
  line L662 (-50.4581, 35.2353) -> (-50.3654, 35.0431)
  line L663 (-50.3654, 35.0431) -> (-50.2553, 34.8617)
  line L664 (-50.2553, 34.8617) -> (-50.1286, 34.6924)
  line L665 (-50.1286, 34.6924) -> (-49.9866, 34.5362)
  line L666 (-49.9866, 34.5362) -> (-49.8304, 34.394)
  line L667 (-49.8304, 34.394) -> (-49.6611, 34.2674)
  line L668 (-49.6611, 34.2674) -> (-49.4797, 34.1574)
  line L669 (-49.4797, 34.1574) -> (-49.2873, 34.0647)
  line L670 (-49.2873, 34.0647) -> (-49.0852, 33.9906)
  line L671 (-49.0852, 33.9906) -> (-48.8744, 33.9365)
  line L672 (-48.8744, 33.9365) -> (-48.656, 33.9031)
  line L673 (-48.656, 33.9031) -> (-48.431, 33.8918)
  line L674 (-48.431, 33.8918) -> (-48.206, 33.9031)
  line L675 (-48.206, 33.9031) -> (-47.9876, 33.9365)
  line L676 (-47.9876, 33.9365) -> (-47.7768, 33.9906)
  line L677 (-47.7768, 33.9906) -> (-47.5747, 34.0647)
  line L678 (-47.5747, 34.0647) -> (-47.3823, 34.1574)
  line L679 (-47.3823, 34.1574) -> (-47.2009, 34.2674)
  line L680 (-47.2009, 34.2674) -> (-47.0316, 34.394)
  line L681 (-47.0316, 34.394) -> (-46.8754, 34.5362)
  line L682 (-46.8754, 34.5362) -> (-46.7334, 34.6924)
  line L683 (-46.7334, 34.6924) -> (-46.6066, 34.8617)
  line L684 (-46.6066, 34.8617) -> (-46.4966, 35.0431)
  line L685 (-46.4966, 35.0431) -> (-46.4039, 35.2353)
  line L686 (-46.4039, 35.2353) -> (-46.3298, 35.4376)
  line L687 (-46.3298, 35.4376) -> (-46.2757, 35.6484)
  line L688 (-46.2757, 35.6484) -> (-46.2423, 35.8668)
  line L689 (-46.2423, 35.8668) -> (-46.231, 36.0918)
  line L690 (-46.231, 36.0918) -> (-46.2423, 36.3168)
  line L691 (-46.2423, 36.3168) -> (-46.2757, 36.5352)
  line L692 (-46.2757, 36.5352) -> (-46.3298, 36.746)
  line L693 (-46.3298, 36.746) -> (-46.4039, 36.9481)
  line L694 (-46.4039, 36.9481) -> (-46.4966, 37.1405)
  line L695 (-46.4966, 37.1405) -> (-46.6066, 37.3219)
  line L696 (-46.6066, 37.3219) -> (-46.7334, 37.4912)
  line L697 (-46.7334, 37.4912) -> (-46.8754, 37.6474)
  line L698 (-46.8754, 37.6474) -> (-47.0316, 37.7894)
  line L699 (-47.0316, 37.7894) -> (-47.2009, 37.916)
  line L700 (-47.2009, 37.916) -> (-47.3823, 38.0262)
  line L701 (-47.3823, 38.0262) -> (-47.5747, 38.1189)
  line L702 (-47.5747, 38.1189) -> (-47.7768, 38.1928)
  line L703 (-47.7768, 38.1928) -> (-47.9876, 38.247)
  line L704 (-47.9876, 38.247) -> (-48.206, 38.2805)
  line L705 (-48.206, 38.2805) -> (-48.431, 38.2918)
  line L706 (-48.431, 38.2918) -> (-48.656, 38.2805)
  line L707 (-48.656, 38.2805) -> (-48.8744, 38.247)
  line L708 (-48.8744, 38.247) -> (-49.0852, 38.1928)
  line L709 (-49.0852, 38.1928) -> (-49.2873, 38.1189)
  line L710 (-49.2873, 38.1189) -> (-49.4797, 38.0262)
  line L711 (-49.4797, 38.0262) -> (-49.6611, 37.916)
  line L712 (-49.6611, 37.916) -> (-49.8304, 37.7894)
  line L713 (-49.8304, 37.7894) -> (-49.9866, 37.6474)
  line L714 (-49.9866, 37.6474) -> (-50.1286, 37.4912)
  line L715 (-50.1286, 37.4912) -> (-50.2553, 37.3219)
  line L716 (-50.2553, 37.3219) -> (-50.3654, 37.1405)
  line L717 (-50.3654, 37.1405) -> (-50.4581, 36.9481)
  line L718 (-50.4581, 36.9481) -> (-50.5322, 36.746)
  line L719 (-50.5322, 36.746) -> (-50.5862, 36.5352)
  line L720 (-50.5862, 36.5352) -> (-50.6197, 36.3168)
  line L721 (-50.6197, 36.3168) -> (-50.631, 36.0918)
  line L722 (-53.96, 0.0034) -> (53.9398, 0.0034) construction
  line L723 (-0.0099, 49.003) -> (-0.0099, -48.9962) construction
  point P0 (-0.0099, 0.0034)
sketch "Sketch2" plane through (0, 0, 0) normal (0, 0, 1) x (1, 0, 0)
  line L0 (49.9401, 49.003) -> (-49.9599, 49.003) construction
  line L1 (-53.96, 45.0029) -> (-53.96, -44.9961) construction
  line L2 (-49.9599, -48.9962) -> (49.9401, -48.9962) construction
  line L3 (53.9398, -44.9961) -> (53.9398, 45.0029) construction
  line L4 (-49.96, 49.003) -> (49.9398, 49.003)
  line L5 (53.9398, 45.003) -> (53.9398, -44.9962)
  line L6 (49.9398, -48.9962) -> (-49.96, -48.9962)
  line L7 (-53.96, -44.9962) -> (-53.96, 45.003)
  arc A0 (49.9398, -48.9962) -> (53.9398, -44.9962) centre (49.9398, -44.9962) ccw
  arc A1 (-53.96, -44.9962) -> (-49.96, -48.9962) centre (-49.96, -44.9962) ccw
  arc A2 (-49.96, 49.003) -> (-53.96, 45.003) centre (-49.96, 45.003) ccw
  arc A3 (53.9398, 45.003) -> (49.9398, 49.003) centre (49.9398, 45.003) ccw
  point P0 (0, 0)
  dimension "d2" = 4
extrude "Extrusion1" add sketch "Sketch2" along normal blind 2
sketch "Sketch3" plane through (0, 0, 0) normal (0, 0, -1) x (-1, 0, 0)
  line L0 (-53.9398, -44.9962) -> (-53.9398, 45.003) projected
  line L1 (-49.9398, 49.003) -> (49.96, 49.003) projected
  circle A0 centre (-15, 0) radius 2.1
  line L2 (76.7674, 0) -> (-76.7472, 0) construction
  line L3 (0, 69.8302) -> (0, -69.8234) construction
  circle A1 centre (-48.4398, 36.103) radius 2.1
  circle A2 centre (-21.0398, 36.103) radius 2.1
  circle A3 centre (48.4398, 36.103) radius 2.1
  circle A4 centre (21.0398, 36.103) radius 2.1
  circle A5 centre (-48.4398, -32.5163) radius 2.1
  circle A6 centre (-21.0398, -32.5163) radius 2.1
  circle A7 centre (21.0398, -32.5163) radius 2.1
  circle A8 centre (48.4398, -32.5163) radius 2.1
  circle A9 centre (15, 0) radius 2.1
  point P0 (0, 0)
  dimension "d5" = 4.2
  dimension "d6" = 15
  dimension "d7" = 4.2
  dimension "d8" = 5.5
  dimension "d9" = 12.9
  dimension "d10" = 4.2
  dimension "d11" = 27.4
  dimension "d12" = 12.9
extrude "Extrusion2" cut sketch "Sketch3" against normal blind 2
ref_plane "Work Plane1" through (-49.96, 0.0034, 0) normal (0, 1, 0) x (1, 0, 0)
equation "\"d10\" = d7"
equation "\"d12\" = d9"
properties part number "piastra_manicotti"
